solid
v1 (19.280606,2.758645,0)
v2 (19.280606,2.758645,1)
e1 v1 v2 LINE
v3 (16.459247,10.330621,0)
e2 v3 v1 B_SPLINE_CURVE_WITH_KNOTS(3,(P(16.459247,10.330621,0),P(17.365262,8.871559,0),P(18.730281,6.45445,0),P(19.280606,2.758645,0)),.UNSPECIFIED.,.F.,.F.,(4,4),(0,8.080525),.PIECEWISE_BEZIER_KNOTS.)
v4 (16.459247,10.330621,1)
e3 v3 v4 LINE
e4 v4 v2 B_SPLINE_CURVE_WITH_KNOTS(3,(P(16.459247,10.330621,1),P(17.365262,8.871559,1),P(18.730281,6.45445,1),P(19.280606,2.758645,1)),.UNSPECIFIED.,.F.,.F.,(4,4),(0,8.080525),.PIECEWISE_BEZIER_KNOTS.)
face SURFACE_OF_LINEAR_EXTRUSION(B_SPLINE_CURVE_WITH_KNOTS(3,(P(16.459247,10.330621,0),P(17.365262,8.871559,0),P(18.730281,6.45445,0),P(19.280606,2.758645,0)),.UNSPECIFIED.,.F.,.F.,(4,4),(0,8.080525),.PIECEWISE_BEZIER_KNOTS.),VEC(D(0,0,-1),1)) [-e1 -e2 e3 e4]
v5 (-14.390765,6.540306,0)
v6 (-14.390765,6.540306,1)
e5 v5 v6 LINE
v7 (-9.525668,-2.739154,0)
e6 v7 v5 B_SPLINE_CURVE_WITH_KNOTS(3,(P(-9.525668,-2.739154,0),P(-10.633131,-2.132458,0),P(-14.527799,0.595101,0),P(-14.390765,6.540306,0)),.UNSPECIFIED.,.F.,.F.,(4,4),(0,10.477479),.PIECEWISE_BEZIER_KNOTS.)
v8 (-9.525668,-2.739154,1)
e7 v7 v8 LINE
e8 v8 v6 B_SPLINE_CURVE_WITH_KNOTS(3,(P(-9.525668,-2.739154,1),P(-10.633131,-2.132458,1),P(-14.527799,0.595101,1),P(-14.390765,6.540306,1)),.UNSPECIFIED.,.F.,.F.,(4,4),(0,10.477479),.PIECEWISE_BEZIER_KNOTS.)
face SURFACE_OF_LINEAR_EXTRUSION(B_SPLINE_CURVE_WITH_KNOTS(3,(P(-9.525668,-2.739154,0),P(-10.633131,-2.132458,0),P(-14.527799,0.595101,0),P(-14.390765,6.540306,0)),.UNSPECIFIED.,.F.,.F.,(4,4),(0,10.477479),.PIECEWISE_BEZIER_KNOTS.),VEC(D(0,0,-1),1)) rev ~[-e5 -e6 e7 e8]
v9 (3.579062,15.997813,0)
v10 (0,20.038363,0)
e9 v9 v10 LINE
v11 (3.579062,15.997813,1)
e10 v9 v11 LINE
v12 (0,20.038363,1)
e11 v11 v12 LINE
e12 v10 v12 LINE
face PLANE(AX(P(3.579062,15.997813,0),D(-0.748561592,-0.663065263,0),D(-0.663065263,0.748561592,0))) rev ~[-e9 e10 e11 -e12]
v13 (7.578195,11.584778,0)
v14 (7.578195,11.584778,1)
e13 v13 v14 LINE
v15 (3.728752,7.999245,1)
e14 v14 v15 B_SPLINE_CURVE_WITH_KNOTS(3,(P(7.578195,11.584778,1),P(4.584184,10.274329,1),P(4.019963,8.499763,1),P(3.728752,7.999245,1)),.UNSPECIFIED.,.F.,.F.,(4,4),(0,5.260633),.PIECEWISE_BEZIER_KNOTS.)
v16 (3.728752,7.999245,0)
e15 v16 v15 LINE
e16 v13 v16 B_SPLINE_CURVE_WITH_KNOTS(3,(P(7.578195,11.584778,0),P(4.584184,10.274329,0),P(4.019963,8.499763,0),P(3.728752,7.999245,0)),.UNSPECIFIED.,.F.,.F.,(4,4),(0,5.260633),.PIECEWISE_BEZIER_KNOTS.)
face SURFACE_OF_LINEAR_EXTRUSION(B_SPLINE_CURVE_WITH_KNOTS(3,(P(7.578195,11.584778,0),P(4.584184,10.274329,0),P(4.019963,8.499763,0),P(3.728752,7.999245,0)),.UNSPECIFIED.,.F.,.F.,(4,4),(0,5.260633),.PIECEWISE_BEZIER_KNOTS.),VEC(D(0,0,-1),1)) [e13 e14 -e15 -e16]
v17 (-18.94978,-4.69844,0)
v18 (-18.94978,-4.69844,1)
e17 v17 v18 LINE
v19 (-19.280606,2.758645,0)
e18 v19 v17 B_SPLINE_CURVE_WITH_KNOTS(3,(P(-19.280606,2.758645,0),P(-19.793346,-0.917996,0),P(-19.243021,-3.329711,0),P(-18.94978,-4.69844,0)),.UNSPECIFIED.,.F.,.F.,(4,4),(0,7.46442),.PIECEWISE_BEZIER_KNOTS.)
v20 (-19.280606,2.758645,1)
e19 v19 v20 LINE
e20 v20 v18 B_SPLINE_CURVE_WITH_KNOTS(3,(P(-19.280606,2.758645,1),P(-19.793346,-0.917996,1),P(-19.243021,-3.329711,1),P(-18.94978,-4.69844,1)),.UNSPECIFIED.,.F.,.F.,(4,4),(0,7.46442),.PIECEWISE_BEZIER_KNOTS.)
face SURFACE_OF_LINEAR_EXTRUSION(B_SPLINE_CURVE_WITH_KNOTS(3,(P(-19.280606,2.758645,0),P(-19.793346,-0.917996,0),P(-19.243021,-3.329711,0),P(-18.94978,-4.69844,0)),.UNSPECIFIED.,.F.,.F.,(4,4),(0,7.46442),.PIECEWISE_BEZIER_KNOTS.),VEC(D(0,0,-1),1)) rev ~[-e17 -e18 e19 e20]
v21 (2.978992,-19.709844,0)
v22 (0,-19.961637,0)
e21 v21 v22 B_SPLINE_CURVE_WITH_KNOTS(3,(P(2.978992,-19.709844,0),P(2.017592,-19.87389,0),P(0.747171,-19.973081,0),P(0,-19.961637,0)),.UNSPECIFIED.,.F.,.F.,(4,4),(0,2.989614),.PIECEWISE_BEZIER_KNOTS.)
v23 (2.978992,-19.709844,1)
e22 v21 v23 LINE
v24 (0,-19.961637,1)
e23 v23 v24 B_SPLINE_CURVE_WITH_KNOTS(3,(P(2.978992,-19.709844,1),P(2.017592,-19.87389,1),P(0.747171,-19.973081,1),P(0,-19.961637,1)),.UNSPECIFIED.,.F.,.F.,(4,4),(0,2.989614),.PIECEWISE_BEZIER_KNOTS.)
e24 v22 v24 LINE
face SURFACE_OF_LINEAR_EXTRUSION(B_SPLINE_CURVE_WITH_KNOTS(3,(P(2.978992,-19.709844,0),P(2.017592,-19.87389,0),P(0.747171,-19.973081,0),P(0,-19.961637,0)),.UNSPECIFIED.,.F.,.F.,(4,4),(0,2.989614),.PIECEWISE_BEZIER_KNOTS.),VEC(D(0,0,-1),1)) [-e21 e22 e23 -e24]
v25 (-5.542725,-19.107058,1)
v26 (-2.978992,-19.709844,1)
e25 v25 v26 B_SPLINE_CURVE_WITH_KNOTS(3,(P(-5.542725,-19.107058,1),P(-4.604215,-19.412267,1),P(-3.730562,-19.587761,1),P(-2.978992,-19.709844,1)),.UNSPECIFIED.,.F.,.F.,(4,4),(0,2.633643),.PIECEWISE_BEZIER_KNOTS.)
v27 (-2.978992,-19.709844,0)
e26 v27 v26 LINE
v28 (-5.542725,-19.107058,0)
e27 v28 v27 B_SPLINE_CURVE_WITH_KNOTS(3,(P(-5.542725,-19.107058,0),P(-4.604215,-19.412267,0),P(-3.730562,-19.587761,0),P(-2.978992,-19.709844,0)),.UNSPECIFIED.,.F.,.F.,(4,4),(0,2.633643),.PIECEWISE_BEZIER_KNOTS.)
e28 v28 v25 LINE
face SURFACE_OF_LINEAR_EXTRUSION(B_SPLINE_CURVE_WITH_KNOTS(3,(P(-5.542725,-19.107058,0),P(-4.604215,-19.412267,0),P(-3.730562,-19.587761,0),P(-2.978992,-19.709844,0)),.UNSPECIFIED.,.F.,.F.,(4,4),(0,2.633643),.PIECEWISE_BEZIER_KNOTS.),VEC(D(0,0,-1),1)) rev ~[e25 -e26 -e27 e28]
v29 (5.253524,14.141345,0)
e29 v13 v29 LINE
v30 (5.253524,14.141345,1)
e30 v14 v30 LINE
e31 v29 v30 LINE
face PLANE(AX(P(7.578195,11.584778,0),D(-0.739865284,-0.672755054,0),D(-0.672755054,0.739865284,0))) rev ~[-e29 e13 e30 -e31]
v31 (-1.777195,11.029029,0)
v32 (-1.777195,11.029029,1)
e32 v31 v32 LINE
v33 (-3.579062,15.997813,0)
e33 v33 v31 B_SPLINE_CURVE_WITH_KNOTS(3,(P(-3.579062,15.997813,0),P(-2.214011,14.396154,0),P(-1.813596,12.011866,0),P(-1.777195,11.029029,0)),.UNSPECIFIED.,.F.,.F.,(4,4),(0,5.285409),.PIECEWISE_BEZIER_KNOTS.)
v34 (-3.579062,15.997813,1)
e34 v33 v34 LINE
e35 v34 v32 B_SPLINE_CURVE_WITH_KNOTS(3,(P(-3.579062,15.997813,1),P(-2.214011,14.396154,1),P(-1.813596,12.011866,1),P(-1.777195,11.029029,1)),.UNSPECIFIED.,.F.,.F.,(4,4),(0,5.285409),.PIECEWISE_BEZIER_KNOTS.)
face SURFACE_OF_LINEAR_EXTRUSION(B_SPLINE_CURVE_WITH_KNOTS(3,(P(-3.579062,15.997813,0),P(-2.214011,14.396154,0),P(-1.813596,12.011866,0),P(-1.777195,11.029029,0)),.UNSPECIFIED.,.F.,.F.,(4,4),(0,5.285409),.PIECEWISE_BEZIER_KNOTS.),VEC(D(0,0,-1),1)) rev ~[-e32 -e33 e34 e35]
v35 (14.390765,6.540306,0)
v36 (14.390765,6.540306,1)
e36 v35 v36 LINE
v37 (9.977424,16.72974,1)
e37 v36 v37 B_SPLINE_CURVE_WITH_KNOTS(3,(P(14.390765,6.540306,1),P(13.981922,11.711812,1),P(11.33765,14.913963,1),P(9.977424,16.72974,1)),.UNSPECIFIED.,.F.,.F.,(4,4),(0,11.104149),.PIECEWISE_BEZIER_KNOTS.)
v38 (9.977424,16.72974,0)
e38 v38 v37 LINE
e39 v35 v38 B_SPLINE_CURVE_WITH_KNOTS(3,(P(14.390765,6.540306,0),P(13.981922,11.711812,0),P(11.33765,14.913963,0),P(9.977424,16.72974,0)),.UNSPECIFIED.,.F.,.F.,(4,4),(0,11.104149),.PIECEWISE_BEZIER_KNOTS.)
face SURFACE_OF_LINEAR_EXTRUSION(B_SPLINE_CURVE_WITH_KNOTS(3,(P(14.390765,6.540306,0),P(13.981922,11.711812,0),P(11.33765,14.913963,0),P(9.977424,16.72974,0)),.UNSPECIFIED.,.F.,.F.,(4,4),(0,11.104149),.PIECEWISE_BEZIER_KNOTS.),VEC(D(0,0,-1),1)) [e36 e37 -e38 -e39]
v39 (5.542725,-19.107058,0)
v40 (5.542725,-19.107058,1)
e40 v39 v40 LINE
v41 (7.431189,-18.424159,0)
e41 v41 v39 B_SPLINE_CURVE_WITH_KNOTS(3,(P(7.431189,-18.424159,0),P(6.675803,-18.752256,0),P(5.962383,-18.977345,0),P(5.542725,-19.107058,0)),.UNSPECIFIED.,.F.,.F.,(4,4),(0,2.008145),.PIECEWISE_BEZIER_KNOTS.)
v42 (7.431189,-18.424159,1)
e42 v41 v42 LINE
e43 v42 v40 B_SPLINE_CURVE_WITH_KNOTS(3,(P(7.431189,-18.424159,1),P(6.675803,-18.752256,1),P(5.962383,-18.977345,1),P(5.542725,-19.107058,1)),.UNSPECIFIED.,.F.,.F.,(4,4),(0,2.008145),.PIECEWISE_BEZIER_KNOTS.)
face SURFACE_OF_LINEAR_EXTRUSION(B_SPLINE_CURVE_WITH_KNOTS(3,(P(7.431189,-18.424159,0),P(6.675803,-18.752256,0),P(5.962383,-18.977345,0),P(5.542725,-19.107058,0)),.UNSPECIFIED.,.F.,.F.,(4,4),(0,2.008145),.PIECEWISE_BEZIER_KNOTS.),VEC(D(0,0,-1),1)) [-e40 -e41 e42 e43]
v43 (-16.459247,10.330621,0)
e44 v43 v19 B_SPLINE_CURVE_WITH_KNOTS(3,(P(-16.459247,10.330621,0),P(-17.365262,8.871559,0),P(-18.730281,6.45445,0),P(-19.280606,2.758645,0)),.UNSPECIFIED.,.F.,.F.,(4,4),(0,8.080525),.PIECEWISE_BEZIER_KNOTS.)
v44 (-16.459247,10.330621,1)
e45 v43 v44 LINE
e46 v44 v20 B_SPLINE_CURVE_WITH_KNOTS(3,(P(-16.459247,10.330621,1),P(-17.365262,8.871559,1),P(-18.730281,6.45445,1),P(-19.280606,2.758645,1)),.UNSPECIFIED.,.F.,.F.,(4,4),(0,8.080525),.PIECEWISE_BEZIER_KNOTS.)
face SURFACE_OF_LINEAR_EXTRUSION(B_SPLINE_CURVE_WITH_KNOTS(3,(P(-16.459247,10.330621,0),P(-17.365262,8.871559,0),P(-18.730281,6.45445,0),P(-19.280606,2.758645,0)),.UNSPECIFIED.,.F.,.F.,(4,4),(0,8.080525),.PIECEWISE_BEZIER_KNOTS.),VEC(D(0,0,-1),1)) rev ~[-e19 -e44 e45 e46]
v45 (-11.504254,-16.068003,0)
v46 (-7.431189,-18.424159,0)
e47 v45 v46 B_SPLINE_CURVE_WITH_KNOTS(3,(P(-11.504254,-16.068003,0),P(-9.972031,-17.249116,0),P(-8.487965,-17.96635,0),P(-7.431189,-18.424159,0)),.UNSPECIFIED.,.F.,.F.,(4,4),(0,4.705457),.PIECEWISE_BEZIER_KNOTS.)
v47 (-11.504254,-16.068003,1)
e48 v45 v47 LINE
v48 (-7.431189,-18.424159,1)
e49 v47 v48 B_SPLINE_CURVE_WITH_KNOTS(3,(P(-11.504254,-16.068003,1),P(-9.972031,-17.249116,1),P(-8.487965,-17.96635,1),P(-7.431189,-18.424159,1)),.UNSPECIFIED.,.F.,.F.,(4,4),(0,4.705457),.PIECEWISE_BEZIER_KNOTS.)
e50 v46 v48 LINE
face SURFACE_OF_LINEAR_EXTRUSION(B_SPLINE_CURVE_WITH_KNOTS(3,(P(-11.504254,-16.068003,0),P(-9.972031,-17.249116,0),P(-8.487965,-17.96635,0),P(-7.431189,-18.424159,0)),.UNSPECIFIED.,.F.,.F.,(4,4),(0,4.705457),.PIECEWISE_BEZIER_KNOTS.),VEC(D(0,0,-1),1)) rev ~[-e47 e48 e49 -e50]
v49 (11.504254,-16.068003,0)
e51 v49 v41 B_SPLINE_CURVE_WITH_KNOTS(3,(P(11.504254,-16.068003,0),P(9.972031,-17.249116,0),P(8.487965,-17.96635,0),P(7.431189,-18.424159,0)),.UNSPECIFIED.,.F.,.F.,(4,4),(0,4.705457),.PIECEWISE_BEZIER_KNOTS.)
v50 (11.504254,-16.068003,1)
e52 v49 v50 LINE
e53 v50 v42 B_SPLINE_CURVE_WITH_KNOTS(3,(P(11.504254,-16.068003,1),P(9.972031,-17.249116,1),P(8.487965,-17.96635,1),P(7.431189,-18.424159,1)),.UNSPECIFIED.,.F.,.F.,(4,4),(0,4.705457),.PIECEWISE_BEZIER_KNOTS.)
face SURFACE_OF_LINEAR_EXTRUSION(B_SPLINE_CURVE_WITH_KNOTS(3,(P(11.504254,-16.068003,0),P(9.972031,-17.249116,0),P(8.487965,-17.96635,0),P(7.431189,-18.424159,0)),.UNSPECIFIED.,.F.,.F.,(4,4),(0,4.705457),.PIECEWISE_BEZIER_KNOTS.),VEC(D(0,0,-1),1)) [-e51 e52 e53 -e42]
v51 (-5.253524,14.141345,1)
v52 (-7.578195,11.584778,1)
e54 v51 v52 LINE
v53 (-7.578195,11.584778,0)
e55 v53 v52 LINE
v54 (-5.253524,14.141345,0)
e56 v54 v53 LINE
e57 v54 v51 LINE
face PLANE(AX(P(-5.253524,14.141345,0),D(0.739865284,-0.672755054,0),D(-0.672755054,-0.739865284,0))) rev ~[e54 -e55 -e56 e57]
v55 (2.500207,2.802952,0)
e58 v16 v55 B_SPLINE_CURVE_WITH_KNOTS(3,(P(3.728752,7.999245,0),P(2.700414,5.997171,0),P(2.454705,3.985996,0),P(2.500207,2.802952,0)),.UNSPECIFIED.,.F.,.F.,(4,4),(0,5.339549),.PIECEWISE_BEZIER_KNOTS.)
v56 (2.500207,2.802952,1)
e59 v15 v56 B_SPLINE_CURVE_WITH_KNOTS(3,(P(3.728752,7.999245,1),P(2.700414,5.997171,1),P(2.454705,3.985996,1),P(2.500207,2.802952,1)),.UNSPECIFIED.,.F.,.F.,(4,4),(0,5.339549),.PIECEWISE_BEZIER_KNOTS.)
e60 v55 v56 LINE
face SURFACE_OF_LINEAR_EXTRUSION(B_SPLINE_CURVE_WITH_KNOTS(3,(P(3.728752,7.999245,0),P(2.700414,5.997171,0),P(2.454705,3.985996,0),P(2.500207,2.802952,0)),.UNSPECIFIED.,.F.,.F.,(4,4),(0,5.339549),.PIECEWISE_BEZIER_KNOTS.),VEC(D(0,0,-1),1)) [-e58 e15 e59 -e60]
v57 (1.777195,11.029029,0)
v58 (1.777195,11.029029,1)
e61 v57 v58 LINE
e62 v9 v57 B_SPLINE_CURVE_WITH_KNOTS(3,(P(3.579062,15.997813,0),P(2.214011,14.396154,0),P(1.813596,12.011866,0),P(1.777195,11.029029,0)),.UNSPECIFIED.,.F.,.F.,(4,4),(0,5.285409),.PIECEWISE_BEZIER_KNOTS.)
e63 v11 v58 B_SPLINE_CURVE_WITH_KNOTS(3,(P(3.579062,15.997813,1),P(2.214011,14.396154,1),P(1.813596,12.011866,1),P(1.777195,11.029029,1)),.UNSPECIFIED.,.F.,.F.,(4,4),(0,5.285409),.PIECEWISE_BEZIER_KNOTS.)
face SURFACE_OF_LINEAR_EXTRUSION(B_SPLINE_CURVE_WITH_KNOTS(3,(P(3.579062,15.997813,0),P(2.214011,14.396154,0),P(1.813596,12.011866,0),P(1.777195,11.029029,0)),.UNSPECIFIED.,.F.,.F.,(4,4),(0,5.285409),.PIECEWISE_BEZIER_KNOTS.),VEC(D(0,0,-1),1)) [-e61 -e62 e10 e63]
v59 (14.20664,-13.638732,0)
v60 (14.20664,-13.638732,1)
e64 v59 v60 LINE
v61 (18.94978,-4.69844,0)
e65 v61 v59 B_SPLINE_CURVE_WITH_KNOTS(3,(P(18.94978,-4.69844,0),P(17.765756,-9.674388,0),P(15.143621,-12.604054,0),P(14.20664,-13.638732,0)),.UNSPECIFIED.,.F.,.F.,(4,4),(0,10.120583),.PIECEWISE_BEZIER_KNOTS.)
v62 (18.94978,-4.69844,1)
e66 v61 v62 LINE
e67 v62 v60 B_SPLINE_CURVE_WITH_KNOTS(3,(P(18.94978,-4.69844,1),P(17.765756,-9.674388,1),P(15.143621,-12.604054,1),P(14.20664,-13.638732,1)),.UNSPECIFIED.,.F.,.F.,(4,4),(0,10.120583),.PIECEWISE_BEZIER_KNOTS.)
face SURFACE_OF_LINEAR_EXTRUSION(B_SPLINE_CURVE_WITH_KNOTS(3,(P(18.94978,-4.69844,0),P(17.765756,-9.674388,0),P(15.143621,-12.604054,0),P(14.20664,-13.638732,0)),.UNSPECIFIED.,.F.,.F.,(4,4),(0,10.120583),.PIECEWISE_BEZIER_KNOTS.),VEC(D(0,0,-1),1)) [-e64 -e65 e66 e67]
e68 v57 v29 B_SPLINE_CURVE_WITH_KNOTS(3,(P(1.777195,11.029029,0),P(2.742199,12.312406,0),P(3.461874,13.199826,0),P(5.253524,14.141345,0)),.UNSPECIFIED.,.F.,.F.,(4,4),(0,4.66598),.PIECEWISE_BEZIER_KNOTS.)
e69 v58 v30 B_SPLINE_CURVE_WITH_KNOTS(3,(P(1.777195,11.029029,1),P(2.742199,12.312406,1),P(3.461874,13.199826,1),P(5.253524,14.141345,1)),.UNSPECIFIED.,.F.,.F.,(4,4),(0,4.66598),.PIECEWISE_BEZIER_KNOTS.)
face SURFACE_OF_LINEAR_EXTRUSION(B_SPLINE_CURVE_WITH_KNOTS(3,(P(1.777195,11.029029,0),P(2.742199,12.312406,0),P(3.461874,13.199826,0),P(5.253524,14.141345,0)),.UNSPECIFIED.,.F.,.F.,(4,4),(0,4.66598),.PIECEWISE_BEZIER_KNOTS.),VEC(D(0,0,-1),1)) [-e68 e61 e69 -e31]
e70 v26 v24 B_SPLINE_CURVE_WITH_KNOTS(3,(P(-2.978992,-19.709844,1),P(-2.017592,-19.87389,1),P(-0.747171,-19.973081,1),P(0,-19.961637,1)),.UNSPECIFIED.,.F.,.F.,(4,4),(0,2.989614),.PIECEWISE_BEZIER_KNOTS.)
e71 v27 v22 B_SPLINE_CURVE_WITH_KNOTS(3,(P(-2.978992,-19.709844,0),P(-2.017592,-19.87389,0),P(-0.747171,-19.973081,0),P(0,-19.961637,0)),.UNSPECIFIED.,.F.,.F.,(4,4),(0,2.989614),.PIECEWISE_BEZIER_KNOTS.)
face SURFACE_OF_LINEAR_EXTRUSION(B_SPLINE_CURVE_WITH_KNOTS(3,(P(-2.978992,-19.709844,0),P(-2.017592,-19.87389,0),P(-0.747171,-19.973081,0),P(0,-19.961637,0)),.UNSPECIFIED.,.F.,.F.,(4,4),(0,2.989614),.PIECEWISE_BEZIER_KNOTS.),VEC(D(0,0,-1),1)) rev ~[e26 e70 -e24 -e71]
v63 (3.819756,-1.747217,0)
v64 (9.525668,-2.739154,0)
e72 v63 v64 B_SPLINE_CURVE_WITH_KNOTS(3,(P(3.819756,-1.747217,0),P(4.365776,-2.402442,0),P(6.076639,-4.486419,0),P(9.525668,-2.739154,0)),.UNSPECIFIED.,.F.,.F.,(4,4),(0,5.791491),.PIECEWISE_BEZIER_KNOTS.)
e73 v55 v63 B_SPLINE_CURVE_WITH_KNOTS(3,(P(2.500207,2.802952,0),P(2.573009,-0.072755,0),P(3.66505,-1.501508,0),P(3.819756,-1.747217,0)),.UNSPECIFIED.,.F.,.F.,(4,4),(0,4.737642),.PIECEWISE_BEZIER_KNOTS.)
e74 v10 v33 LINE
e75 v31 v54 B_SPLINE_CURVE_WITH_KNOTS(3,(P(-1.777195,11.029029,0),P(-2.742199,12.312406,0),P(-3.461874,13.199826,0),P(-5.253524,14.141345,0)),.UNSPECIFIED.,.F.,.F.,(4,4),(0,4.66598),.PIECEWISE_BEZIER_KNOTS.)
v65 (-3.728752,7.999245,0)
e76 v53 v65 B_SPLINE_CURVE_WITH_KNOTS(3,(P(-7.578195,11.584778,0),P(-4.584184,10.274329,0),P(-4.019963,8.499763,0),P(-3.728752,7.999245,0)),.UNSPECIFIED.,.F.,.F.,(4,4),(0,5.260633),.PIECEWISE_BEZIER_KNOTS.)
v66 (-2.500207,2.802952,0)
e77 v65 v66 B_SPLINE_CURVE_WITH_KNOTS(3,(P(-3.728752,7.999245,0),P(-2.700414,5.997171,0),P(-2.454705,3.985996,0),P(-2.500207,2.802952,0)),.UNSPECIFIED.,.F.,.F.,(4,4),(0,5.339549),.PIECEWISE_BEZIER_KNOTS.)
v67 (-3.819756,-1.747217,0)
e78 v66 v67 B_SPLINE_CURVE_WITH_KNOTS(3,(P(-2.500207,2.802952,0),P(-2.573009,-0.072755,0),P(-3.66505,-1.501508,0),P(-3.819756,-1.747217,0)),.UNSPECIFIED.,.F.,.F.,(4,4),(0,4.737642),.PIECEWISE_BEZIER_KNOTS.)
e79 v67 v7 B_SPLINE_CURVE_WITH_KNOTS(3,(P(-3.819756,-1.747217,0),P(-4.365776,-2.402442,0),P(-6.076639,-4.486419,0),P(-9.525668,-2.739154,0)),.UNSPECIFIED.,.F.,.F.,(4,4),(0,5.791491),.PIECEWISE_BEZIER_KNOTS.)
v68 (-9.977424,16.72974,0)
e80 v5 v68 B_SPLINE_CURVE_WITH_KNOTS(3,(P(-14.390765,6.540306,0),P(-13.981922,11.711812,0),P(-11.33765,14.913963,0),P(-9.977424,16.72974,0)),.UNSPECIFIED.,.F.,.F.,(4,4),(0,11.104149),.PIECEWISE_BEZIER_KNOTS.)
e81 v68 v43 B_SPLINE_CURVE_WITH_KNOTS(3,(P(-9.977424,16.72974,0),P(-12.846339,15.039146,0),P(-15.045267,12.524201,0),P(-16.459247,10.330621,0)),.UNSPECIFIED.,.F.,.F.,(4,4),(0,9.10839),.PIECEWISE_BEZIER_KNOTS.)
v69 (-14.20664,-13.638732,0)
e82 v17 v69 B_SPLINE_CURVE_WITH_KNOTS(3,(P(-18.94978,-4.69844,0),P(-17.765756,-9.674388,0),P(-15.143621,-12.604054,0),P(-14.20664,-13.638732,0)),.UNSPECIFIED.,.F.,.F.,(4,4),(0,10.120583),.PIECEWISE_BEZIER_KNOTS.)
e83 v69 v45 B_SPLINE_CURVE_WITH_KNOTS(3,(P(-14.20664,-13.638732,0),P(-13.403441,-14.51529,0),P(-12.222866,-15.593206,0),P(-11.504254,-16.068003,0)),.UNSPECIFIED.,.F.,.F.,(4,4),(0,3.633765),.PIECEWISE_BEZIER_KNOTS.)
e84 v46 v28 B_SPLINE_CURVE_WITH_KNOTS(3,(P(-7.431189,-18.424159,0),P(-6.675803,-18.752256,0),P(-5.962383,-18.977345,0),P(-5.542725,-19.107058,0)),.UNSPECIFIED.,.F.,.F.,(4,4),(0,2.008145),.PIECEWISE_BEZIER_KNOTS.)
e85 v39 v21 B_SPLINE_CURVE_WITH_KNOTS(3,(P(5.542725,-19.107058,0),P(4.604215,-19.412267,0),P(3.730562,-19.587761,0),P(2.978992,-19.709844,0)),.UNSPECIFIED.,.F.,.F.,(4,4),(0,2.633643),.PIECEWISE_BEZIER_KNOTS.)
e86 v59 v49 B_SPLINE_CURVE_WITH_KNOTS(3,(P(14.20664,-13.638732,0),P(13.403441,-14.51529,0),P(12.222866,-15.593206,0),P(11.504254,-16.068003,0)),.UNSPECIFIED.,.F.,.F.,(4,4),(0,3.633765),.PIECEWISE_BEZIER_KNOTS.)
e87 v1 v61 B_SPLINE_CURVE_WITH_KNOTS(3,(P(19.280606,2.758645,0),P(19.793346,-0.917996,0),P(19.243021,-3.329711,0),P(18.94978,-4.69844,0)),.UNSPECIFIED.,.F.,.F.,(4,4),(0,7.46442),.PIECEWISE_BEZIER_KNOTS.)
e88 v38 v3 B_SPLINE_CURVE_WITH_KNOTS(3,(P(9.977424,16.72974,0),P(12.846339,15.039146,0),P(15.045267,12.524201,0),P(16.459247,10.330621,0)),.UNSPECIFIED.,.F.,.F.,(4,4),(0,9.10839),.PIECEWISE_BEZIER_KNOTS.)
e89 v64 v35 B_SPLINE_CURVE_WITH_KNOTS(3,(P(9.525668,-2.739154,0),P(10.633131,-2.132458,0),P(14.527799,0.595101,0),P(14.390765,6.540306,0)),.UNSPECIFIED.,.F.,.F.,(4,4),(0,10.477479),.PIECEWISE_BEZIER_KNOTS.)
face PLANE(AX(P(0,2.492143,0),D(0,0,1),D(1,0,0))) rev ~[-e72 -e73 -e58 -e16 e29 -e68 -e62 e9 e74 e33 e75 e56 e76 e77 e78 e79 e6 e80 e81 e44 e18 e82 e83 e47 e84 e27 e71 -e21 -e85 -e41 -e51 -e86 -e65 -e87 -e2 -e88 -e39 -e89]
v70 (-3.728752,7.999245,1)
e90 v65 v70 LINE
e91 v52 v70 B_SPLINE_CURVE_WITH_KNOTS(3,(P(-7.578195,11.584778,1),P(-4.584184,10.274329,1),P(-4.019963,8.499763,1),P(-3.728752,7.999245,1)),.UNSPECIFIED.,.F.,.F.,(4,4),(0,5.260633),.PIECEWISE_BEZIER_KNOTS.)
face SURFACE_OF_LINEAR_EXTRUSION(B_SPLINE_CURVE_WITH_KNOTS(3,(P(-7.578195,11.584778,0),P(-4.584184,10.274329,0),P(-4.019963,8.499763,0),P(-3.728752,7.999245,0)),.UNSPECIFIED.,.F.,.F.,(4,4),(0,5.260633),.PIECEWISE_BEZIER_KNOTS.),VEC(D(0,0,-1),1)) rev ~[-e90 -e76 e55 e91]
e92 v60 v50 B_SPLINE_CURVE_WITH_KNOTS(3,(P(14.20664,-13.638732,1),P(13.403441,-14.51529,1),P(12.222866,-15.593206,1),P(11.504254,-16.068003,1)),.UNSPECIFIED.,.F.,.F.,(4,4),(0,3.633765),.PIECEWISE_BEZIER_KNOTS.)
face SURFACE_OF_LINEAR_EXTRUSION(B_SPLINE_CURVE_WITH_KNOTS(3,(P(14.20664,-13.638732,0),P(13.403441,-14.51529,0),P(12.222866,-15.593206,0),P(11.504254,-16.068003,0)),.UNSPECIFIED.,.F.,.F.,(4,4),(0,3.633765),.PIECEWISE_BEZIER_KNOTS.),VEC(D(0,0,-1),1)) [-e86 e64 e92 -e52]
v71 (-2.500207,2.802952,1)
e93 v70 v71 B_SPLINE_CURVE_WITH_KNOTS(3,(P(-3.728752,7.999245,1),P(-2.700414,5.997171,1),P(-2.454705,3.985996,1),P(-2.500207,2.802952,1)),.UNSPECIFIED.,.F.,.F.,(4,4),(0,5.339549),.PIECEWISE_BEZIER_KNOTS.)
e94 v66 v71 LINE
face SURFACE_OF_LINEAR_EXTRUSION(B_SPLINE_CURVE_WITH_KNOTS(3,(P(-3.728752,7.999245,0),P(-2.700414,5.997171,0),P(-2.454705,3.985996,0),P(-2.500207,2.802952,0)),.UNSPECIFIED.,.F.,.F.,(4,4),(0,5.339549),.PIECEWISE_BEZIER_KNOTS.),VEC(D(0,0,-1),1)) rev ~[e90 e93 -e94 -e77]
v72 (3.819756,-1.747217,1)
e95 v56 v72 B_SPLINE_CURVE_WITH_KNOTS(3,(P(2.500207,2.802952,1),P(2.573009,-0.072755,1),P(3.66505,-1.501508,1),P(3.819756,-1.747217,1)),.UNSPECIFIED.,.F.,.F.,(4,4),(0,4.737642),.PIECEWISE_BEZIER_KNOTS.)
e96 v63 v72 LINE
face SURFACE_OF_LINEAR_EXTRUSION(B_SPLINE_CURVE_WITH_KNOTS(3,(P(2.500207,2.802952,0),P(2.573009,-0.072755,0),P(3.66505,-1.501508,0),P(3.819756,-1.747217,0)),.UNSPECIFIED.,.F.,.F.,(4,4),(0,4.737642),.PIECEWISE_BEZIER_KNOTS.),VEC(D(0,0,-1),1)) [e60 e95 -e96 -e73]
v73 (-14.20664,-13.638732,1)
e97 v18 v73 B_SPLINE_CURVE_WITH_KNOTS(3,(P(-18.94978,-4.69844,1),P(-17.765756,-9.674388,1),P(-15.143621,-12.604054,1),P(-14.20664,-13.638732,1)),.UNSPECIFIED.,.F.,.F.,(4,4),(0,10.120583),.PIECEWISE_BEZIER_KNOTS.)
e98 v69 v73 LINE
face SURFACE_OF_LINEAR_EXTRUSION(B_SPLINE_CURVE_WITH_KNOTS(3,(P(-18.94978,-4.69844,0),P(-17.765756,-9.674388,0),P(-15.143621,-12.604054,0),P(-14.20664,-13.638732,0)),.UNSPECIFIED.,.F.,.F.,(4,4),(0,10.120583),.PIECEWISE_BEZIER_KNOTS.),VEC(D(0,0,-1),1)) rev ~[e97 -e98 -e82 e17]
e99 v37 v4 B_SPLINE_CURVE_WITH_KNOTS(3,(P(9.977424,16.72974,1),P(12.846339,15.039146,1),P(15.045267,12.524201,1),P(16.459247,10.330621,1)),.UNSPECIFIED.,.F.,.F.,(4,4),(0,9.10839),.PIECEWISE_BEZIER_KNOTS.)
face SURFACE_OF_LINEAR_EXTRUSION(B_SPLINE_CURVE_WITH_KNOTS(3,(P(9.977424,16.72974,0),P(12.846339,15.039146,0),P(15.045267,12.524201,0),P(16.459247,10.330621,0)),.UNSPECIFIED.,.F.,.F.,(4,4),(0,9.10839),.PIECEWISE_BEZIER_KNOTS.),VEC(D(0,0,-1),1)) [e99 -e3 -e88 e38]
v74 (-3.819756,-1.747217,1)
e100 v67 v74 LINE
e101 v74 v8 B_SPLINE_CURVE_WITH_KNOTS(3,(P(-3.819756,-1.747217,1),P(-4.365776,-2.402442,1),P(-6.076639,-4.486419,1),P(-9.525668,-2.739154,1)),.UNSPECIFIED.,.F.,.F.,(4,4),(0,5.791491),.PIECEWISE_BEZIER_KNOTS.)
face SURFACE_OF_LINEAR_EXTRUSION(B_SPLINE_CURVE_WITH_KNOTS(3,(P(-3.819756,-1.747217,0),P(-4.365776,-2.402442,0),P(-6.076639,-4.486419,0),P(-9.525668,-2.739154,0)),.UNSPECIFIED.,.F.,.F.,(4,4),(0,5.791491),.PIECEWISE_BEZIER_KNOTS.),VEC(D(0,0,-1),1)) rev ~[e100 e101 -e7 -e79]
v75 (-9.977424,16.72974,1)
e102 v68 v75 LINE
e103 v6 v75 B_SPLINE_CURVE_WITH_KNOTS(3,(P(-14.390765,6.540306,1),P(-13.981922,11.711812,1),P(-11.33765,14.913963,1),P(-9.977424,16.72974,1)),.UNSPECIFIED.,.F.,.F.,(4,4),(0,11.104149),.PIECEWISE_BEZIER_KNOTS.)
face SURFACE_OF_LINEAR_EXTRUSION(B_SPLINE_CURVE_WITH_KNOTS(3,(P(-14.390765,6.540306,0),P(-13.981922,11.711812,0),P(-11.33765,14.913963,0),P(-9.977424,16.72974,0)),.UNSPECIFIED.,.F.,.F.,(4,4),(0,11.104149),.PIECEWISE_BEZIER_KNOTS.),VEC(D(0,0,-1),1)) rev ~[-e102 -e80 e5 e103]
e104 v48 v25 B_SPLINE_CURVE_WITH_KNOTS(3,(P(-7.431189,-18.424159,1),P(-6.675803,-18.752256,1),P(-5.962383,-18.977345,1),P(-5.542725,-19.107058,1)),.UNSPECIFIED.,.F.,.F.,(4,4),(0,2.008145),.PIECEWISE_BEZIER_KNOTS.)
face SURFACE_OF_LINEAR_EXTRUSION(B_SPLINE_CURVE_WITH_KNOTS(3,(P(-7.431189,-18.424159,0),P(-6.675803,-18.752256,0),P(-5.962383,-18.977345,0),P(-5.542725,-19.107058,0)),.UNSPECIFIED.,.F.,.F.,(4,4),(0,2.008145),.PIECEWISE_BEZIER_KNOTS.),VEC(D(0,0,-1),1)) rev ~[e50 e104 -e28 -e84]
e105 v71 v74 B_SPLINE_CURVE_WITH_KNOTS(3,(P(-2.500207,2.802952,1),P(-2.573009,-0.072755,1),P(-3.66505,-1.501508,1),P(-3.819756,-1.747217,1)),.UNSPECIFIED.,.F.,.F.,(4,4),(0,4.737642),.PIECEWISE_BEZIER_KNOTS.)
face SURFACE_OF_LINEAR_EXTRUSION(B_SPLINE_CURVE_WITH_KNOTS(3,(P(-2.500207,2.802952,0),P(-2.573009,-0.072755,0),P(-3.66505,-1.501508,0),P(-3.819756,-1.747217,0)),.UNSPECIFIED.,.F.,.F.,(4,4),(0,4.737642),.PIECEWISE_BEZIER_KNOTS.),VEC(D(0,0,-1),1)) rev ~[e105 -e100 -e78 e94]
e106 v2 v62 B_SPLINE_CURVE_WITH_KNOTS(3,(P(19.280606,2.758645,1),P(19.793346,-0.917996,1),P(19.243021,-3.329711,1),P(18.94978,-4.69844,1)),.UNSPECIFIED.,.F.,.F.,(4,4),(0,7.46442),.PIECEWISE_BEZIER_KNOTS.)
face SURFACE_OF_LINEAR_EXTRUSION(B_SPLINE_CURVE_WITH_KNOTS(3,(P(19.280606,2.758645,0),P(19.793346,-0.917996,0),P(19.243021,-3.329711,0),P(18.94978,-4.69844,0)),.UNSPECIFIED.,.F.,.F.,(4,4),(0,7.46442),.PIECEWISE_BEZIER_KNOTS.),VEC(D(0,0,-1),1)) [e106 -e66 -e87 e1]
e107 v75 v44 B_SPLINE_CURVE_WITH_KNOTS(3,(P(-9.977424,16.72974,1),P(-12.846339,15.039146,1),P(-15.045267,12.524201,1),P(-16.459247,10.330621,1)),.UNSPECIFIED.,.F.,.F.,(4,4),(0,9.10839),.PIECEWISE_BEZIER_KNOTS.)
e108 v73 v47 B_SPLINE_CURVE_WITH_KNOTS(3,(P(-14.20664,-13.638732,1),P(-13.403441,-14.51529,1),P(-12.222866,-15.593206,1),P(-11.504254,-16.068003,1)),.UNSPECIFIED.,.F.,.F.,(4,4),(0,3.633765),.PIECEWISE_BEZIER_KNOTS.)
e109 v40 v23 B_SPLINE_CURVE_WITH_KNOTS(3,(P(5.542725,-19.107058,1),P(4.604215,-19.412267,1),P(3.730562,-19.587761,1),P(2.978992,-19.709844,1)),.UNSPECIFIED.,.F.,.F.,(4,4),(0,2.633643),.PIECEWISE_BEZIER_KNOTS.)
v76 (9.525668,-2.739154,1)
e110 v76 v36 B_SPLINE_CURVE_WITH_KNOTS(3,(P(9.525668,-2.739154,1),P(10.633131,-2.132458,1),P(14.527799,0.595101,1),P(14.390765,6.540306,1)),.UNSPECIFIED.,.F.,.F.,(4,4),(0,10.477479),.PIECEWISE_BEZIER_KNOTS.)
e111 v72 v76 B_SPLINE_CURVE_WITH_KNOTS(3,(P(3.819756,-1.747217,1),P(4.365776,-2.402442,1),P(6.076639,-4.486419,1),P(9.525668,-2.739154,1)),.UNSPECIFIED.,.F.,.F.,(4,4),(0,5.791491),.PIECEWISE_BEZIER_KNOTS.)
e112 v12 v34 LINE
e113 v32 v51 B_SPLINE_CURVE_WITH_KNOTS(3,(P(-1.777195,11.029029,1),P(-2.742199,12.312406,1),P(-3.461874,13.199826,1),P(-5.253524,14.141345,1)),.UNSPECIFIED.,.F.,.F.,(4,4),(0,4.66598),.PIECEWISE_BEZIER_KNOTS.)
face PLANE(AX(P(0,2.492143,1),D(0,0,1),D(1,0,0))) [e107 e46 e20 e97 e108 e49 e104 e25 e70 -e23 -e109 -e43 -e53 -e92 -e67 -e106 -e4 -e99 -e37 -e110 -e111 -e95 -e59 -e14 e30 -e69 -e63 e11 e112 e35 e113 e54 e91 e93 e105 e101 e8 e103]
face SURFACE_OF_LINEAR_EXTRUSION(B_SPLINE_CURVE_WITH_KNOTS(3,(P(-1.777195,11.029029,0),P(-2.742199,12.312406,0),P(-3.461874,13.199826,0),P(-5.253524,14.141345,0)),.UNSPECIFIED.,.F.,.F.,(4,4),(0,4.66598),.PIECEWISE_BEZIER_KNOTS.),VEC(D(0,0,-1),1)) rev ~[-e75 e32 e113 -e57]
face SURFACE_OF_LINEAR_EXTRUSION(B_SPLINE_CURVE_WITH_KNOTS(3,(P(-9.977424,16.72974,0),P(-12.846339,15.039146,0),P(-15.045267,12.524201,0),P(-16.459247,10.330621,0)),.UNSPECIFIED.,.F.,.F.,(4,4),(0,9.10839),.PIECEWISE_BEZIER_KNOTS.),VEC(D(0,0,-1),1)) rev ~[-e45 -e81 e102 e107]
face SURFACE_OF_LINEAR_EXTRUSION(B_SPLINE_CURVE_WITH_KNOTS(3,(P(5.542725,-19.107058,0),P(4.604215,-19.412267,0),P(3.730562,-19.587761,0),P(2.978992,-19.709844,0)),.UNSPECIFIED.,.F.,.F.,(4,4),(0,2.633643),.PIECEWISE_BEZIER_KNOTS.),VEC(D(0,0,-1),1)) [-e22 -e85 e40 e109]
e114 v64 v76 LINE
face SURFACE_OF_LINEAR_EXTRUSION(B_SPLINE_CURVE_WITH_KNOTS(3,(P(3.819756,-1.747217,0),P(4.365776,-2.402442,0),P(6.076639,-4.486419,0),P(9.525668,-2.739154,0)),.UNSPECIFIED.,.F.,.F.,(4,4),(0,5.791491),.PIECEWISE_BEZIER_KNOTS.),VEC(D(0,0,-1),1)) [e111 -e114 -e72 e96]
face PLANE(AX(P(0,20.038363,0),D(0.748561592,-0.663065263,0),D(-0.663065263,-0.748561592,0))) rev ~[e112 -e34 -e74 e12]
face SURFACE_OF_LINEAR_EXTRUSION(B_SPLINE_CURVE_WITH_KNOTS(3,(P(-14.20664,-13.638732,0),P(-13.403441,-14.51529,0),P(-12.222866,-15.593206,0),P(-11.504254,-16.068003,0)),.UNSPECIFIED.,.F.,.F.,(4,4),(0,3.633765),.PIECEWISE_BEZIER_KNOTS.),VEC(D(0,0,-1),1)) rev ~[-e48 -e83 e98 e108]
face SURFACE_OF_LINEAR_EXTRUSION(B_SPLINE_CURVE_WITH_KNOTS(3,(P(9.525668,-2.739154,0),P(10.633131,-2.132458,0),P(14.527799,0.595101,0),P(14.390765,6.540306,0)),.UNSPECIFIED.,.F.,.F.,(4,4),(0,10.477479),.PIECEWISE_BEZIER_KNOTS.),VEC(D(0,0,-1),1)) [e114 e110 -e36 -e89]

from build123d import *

# Parameters (mm, degrees)
F1_DEPTH = 1


with BuildPart() as f1:
    # F0 (on Top) → F1 (new body)
    with BuildSketch(Plane.XY):
        with BuildLine():
            Line((3.579062, 15.997813), (0, 20.038363))
            Line((0, 20.038363), (-3.579062, 15.997813))
            add(Edge.make_bspline(
                [(-3.579062, 15.997813), (-2.214011, 14.396154), (-1.813596, 12.011866), (-1.777195, 11.029029)],
                knots=[0, 0, 0, 0, 5.285409, 5.285409, 5.285409, 5.285409], degree=3))
            add(Edge.make_bspline(
                [(-1.777195, 11.029029), (-2.742199, 12.312406), (-3.461874, 13.199826), (-5.253524, 14.141345)],
                knots=[0, 0, 0, 0, 4.66598, 4.66598, 4.66598, 4.66598], degree=3))
            Line((-5.253524, 14.141345), (-7.578195, 11.584778))
            add(Edge.make_bspline(
                [(-7.578195, 11.584778), (-4.584184, 10.274329), (-4.019963, 8.499763), (-3.728752, 7.999245)],
                knots=[0, 0, 0, 0, 5.260633, 5.260633, 5.260633, 5.260633], degree=3))
            add(Edge.make_bspline(
                [(-3.728752, 7.999245), (-2.700414, 5.997171), (-2.454705, 3.985996), (-2.500207, 2.802952)],
                knots=[0, 0, 0, 0, 5.339549, 5.339549, 5.339549, 5.339549], degree=3))
            add(Edge.make_bspline(
                [(-2.500207, 2.802952), (-2.573009, -0.072755), (-3.66505, -1.501508), (-3.819756, -1.747217)],
                knots=[0, 0, 0, 0, 4.737642, 4.737642, 4.737642, 4.737642], degree=3))
            add(Edge.make_bspline(
                [(-3.819756, -1.747217), (-4.365776, -2.402442), (-6.076639, -4.486419), (-9.525668, -2.739154)],
                knots=[0, 0, 0, 0, 5.791491, 5.791491, 5.791491, 5.791491], degree=3))
            add(Edge.make_bspline(
                [(-9.525668, -2.739154), (-10.633131, -2.132458), (-14.527799, 0.595101), (-14.390765, 6.540306)],
                knots=[0, 0, 0, 0, 10.477479, 10.477479, 10.477479, 10.477479], degree=3))
            add(Edge.make_bspline(
                [(-14.390765, 6.540306), (-13.981922, 11.711812), (-11.33765, 14.913963), (-9.977424, 16.72974)],
                knots=[0, 0, 0, 0, 11.104149, 11.104149, 11.104149, 11.104149], degree=3))
            add(Edge.make_bspline(
                [(-9.977424, 16.72974), (-12.846339, 15.039146), (-15.045267, 12.524201), (-16.459247, 10.330621)],
                knots=[0, 0, 0, 0, 9.10839, 9.10839, 9.10839, 9.10839], degree=3))
            add(Edge.make_bspline(
                [(-16.459247, 10.330621), (-17.365262, 8.871559), (-18.730281, 6.45445), (-19.280606, 2.758645)],
                knots=[0, 0, 0, 0, 8.080525, 8.080525, 8.080525, 8.080525], degree=3))
            add(Edge.make_bspline(
                [(-19.280606, 2.758645), (-19.793346, -0.917996), (-19.243021, -3.329711), (-18.94978, -4.69844)],
                knots=[0, 0, 0, 0, 7.46442, 7.46442, 7.46442, 7.46442], degree=3))
            add(Edge.make_bspline(
                [(-18.94978, -4.69844), (-17.765756, -9.674388), (-15.143621, -12.604054), (-14.20664, -13.638732)],
                knots=[0, 0, 0, 0, 10.120583, 10.120583, 10.120583, 10.120583], degree=3))
            add(Edge.make_bspline(
                [(-14.20664, -13.638732), (-13.403441, -14.51529), (-12.222866, -15.593206), (-11.504254, -16.068003)],
                knots=[0, 0, 0, 0, 3.633765, 3.633765, 3.633765, 3.633765], degree=3))
            add(Edge.make_bspline(
                [(-11.504254, -16.068003), (-9.972031, -17.249116), (-8.487965, -17.96635), (-7.431189, -18.424159)],
                knots=[0, 0, 0, 0, 4.705457, 4.705457, 4.705457, 4.705457], degree=3))
            add(Edge.make_bspline(
                [(-7.431189, -18.424159), (-6.675803, -18.752256), (-5.962383, -18.977345), (-5.542725, -19.107058)],
                knots=[0, 0, 0, 0, 2.008145, 2.008145, 2.008145, 2.008145], degree=3))
            add(Edge.make_bspline(
                [(-5.542725, -19.107058), (-4.604215, -19.412267), (-3.730562, -19.587761), (-2.978992, -19.709844)],
                knots=[0, 0, 0, 0, 2.633643, 2.633643, 2.633643, 2.633643], degree=3))
            add(Edge.make_bspline(
                [(-2.978992, -19.709844), (-2.017592, -19.87389), (-0.747171, -19.973081), (0, -19.961637)],
                knots=[0, 0, 0, 0, 2.989614, 2.989614, 2.989614, 2.989614], degree=3))
            add(Edge.make_bspline(
                [(2.978992, -19.709844), (2.017592, -19.87389), (0.747171, -19.973081), (0, -19.961637)],
                knots=[0, 0, 0, 0, 2.989614, 2.989614, 2.989614, 2.989614], degree=3))
            add(Edge.make_bspline(
                [(5.542725, -19.107058), (4.604215, -19.412267), (3.730562, -19.587761), (2.978992, -19.709844)],
                knots=[0, 0, 0, 0, 2.633643, 2.633643, 2.633643, 2.633643], degree=3))
            add(Edge.make_bspline(
                [(7.431189, -18.424159), (6.675803, -18.752256), (5.962383, -18.977345), (5.542725, -19.107058)],
                knots=[0, 0, 0, 0, 2.008145, 2.008145, 2.008145, 2.008145], degree=3))
            add(Edge.make_bspline(
                [(11.504254, -16.068003), (9.972031, -17.249116), (8.487965, -17.96635), (7.431189, -18.424159)],
                knots=[0, 0, 0, 0, 4.705457, 4.705457, 4.705457, 4.705457], degree=3))
            add(Edge.make_bspline(
                [(14.20664, -13.638732), (13.403441, -14.51529), (12.222866, -15.593206), (11.504254, -16.068003)],
                knots=[0, 0, 0, 0, 3.633765, 3.633765, 3.633765, 3.633765], degree=3))
            add(Edge.make_bspline(
                [(18.94978, -4.69844), (17.765756, -9.674388), (15.143621, -12.604054), (14.20664, -13.638732)],
                knots=[0, 0, 0, 0, 10.120583, 10.120583, 10.120583, 10.120583], degree=3))
            add(Edge.make_bspline(
                [(19.280606, 2.758645), (19.793346, -0.917996), (19.243021, -3.329711), (18.94978, -4.69844)],
                knots=[0, 0, 0, 0, 7.46442, 7.46442, 7.46442, 7.46442], degree=3))
            add(Edge.make_bspline(
                [(16.459247, 10.330621), (17.365262, 8.871559), (18.730281, 6.45445), (19.280606, 2.758645)],
                knots=[0, 0, 0, 0, 8.080525, 8.080525, 8.080525, 8.080525], degree=3))
            add(Edge.make_bspline(
                [(9.977424, 16.72974), (12.846339, 15.039146), (15.045267, 12.524201), (16.459247, 10.330621)],
                knots=[0, 0, 0, 0, 9.10839, 9.10839, 9.10839, 9.10839], degree=3))
            add(Edge.make_bspline(
                [(14.390765, 6.540306), (13.981922, 11.711812), (11.33765, 14.913963), (9.977424, 16.72974)],
                knots=[0, 0, 0, 0, 11.104149, 11.104149, 11.104149, 11.104149], degree=3))
            add(Edge.make_bspline(
                [(9.525668, -2.739154), (10.633131, -2.132458), (14.527799, 0.595101), (14.390765, 6.540306)],
                knots=[0, 0, 0, 0, 10.477479, 10.477479, 10.477479, 10.477479], degree=3))
            add(Edge.make_bspline(
                [(3.819756, -1.747217), (4.365776, -2.402442), (6.076639, -4.486419), (9.525668, -2.739154)],
                knots=[0, 0, 0, 0, 5.791491, 5.791491, 5.791491, 5.791491], degree=3))
            add(Edge.make_bspline(
                [(2.500207, 2.802952), (2.573009, -0.072755), (3.66505, -1.501508), (3.819756, -1.747217)],
                knots=[0, 0, 0, 0, 4.737642, 4.737642, 4.737642, 4.737642], degree=3))
            add(Edge.make_bspline(
                [(3.728752, 7.999245), (2.700414, 5.997171), (2.454705, 3.985996), (2.500207, 2.802952)],
                knots=[0, 0, 0, 0, 5.339549, 5.339549, 5.339549, 5.339549], degree=3))
            add(Edge.make_bspline(
                [(7.578195, 11.584778), (4.584184, 10.274329), (4.019963, 8.499763), (3.728752, 7.999245)],
                knots=[0, 0, 0, 0, 5.260633, 5.260633, 5.260633, 5.260633], degree=3))
            Line((7.578195, 11.584778), (5.253524, 14.141345))
            add(Edge.make_bspline(
                [(1.777195, 11.029029), (2.742199, 12.312406), (3.461874, 13.199826), (5.253524, 14.141345)],
                knots=[0, 0, 0, 0, 4.66598, 4.66598, 4.66598, 4.66598], degree=3))
            add(Edge.make_bspline(
                [(3.579062, 15.997813), (2.214011, 14.396154), (1.813596, 12.011866), (1.777195, 11.029029)],
                knots=[0, 0, 0, 0, 5.285409, 5.285409, 5.285409, 5.285409], degree=3))
        make_face()
    extrude(amount=F1_DEPTH)


solid = f1.part
